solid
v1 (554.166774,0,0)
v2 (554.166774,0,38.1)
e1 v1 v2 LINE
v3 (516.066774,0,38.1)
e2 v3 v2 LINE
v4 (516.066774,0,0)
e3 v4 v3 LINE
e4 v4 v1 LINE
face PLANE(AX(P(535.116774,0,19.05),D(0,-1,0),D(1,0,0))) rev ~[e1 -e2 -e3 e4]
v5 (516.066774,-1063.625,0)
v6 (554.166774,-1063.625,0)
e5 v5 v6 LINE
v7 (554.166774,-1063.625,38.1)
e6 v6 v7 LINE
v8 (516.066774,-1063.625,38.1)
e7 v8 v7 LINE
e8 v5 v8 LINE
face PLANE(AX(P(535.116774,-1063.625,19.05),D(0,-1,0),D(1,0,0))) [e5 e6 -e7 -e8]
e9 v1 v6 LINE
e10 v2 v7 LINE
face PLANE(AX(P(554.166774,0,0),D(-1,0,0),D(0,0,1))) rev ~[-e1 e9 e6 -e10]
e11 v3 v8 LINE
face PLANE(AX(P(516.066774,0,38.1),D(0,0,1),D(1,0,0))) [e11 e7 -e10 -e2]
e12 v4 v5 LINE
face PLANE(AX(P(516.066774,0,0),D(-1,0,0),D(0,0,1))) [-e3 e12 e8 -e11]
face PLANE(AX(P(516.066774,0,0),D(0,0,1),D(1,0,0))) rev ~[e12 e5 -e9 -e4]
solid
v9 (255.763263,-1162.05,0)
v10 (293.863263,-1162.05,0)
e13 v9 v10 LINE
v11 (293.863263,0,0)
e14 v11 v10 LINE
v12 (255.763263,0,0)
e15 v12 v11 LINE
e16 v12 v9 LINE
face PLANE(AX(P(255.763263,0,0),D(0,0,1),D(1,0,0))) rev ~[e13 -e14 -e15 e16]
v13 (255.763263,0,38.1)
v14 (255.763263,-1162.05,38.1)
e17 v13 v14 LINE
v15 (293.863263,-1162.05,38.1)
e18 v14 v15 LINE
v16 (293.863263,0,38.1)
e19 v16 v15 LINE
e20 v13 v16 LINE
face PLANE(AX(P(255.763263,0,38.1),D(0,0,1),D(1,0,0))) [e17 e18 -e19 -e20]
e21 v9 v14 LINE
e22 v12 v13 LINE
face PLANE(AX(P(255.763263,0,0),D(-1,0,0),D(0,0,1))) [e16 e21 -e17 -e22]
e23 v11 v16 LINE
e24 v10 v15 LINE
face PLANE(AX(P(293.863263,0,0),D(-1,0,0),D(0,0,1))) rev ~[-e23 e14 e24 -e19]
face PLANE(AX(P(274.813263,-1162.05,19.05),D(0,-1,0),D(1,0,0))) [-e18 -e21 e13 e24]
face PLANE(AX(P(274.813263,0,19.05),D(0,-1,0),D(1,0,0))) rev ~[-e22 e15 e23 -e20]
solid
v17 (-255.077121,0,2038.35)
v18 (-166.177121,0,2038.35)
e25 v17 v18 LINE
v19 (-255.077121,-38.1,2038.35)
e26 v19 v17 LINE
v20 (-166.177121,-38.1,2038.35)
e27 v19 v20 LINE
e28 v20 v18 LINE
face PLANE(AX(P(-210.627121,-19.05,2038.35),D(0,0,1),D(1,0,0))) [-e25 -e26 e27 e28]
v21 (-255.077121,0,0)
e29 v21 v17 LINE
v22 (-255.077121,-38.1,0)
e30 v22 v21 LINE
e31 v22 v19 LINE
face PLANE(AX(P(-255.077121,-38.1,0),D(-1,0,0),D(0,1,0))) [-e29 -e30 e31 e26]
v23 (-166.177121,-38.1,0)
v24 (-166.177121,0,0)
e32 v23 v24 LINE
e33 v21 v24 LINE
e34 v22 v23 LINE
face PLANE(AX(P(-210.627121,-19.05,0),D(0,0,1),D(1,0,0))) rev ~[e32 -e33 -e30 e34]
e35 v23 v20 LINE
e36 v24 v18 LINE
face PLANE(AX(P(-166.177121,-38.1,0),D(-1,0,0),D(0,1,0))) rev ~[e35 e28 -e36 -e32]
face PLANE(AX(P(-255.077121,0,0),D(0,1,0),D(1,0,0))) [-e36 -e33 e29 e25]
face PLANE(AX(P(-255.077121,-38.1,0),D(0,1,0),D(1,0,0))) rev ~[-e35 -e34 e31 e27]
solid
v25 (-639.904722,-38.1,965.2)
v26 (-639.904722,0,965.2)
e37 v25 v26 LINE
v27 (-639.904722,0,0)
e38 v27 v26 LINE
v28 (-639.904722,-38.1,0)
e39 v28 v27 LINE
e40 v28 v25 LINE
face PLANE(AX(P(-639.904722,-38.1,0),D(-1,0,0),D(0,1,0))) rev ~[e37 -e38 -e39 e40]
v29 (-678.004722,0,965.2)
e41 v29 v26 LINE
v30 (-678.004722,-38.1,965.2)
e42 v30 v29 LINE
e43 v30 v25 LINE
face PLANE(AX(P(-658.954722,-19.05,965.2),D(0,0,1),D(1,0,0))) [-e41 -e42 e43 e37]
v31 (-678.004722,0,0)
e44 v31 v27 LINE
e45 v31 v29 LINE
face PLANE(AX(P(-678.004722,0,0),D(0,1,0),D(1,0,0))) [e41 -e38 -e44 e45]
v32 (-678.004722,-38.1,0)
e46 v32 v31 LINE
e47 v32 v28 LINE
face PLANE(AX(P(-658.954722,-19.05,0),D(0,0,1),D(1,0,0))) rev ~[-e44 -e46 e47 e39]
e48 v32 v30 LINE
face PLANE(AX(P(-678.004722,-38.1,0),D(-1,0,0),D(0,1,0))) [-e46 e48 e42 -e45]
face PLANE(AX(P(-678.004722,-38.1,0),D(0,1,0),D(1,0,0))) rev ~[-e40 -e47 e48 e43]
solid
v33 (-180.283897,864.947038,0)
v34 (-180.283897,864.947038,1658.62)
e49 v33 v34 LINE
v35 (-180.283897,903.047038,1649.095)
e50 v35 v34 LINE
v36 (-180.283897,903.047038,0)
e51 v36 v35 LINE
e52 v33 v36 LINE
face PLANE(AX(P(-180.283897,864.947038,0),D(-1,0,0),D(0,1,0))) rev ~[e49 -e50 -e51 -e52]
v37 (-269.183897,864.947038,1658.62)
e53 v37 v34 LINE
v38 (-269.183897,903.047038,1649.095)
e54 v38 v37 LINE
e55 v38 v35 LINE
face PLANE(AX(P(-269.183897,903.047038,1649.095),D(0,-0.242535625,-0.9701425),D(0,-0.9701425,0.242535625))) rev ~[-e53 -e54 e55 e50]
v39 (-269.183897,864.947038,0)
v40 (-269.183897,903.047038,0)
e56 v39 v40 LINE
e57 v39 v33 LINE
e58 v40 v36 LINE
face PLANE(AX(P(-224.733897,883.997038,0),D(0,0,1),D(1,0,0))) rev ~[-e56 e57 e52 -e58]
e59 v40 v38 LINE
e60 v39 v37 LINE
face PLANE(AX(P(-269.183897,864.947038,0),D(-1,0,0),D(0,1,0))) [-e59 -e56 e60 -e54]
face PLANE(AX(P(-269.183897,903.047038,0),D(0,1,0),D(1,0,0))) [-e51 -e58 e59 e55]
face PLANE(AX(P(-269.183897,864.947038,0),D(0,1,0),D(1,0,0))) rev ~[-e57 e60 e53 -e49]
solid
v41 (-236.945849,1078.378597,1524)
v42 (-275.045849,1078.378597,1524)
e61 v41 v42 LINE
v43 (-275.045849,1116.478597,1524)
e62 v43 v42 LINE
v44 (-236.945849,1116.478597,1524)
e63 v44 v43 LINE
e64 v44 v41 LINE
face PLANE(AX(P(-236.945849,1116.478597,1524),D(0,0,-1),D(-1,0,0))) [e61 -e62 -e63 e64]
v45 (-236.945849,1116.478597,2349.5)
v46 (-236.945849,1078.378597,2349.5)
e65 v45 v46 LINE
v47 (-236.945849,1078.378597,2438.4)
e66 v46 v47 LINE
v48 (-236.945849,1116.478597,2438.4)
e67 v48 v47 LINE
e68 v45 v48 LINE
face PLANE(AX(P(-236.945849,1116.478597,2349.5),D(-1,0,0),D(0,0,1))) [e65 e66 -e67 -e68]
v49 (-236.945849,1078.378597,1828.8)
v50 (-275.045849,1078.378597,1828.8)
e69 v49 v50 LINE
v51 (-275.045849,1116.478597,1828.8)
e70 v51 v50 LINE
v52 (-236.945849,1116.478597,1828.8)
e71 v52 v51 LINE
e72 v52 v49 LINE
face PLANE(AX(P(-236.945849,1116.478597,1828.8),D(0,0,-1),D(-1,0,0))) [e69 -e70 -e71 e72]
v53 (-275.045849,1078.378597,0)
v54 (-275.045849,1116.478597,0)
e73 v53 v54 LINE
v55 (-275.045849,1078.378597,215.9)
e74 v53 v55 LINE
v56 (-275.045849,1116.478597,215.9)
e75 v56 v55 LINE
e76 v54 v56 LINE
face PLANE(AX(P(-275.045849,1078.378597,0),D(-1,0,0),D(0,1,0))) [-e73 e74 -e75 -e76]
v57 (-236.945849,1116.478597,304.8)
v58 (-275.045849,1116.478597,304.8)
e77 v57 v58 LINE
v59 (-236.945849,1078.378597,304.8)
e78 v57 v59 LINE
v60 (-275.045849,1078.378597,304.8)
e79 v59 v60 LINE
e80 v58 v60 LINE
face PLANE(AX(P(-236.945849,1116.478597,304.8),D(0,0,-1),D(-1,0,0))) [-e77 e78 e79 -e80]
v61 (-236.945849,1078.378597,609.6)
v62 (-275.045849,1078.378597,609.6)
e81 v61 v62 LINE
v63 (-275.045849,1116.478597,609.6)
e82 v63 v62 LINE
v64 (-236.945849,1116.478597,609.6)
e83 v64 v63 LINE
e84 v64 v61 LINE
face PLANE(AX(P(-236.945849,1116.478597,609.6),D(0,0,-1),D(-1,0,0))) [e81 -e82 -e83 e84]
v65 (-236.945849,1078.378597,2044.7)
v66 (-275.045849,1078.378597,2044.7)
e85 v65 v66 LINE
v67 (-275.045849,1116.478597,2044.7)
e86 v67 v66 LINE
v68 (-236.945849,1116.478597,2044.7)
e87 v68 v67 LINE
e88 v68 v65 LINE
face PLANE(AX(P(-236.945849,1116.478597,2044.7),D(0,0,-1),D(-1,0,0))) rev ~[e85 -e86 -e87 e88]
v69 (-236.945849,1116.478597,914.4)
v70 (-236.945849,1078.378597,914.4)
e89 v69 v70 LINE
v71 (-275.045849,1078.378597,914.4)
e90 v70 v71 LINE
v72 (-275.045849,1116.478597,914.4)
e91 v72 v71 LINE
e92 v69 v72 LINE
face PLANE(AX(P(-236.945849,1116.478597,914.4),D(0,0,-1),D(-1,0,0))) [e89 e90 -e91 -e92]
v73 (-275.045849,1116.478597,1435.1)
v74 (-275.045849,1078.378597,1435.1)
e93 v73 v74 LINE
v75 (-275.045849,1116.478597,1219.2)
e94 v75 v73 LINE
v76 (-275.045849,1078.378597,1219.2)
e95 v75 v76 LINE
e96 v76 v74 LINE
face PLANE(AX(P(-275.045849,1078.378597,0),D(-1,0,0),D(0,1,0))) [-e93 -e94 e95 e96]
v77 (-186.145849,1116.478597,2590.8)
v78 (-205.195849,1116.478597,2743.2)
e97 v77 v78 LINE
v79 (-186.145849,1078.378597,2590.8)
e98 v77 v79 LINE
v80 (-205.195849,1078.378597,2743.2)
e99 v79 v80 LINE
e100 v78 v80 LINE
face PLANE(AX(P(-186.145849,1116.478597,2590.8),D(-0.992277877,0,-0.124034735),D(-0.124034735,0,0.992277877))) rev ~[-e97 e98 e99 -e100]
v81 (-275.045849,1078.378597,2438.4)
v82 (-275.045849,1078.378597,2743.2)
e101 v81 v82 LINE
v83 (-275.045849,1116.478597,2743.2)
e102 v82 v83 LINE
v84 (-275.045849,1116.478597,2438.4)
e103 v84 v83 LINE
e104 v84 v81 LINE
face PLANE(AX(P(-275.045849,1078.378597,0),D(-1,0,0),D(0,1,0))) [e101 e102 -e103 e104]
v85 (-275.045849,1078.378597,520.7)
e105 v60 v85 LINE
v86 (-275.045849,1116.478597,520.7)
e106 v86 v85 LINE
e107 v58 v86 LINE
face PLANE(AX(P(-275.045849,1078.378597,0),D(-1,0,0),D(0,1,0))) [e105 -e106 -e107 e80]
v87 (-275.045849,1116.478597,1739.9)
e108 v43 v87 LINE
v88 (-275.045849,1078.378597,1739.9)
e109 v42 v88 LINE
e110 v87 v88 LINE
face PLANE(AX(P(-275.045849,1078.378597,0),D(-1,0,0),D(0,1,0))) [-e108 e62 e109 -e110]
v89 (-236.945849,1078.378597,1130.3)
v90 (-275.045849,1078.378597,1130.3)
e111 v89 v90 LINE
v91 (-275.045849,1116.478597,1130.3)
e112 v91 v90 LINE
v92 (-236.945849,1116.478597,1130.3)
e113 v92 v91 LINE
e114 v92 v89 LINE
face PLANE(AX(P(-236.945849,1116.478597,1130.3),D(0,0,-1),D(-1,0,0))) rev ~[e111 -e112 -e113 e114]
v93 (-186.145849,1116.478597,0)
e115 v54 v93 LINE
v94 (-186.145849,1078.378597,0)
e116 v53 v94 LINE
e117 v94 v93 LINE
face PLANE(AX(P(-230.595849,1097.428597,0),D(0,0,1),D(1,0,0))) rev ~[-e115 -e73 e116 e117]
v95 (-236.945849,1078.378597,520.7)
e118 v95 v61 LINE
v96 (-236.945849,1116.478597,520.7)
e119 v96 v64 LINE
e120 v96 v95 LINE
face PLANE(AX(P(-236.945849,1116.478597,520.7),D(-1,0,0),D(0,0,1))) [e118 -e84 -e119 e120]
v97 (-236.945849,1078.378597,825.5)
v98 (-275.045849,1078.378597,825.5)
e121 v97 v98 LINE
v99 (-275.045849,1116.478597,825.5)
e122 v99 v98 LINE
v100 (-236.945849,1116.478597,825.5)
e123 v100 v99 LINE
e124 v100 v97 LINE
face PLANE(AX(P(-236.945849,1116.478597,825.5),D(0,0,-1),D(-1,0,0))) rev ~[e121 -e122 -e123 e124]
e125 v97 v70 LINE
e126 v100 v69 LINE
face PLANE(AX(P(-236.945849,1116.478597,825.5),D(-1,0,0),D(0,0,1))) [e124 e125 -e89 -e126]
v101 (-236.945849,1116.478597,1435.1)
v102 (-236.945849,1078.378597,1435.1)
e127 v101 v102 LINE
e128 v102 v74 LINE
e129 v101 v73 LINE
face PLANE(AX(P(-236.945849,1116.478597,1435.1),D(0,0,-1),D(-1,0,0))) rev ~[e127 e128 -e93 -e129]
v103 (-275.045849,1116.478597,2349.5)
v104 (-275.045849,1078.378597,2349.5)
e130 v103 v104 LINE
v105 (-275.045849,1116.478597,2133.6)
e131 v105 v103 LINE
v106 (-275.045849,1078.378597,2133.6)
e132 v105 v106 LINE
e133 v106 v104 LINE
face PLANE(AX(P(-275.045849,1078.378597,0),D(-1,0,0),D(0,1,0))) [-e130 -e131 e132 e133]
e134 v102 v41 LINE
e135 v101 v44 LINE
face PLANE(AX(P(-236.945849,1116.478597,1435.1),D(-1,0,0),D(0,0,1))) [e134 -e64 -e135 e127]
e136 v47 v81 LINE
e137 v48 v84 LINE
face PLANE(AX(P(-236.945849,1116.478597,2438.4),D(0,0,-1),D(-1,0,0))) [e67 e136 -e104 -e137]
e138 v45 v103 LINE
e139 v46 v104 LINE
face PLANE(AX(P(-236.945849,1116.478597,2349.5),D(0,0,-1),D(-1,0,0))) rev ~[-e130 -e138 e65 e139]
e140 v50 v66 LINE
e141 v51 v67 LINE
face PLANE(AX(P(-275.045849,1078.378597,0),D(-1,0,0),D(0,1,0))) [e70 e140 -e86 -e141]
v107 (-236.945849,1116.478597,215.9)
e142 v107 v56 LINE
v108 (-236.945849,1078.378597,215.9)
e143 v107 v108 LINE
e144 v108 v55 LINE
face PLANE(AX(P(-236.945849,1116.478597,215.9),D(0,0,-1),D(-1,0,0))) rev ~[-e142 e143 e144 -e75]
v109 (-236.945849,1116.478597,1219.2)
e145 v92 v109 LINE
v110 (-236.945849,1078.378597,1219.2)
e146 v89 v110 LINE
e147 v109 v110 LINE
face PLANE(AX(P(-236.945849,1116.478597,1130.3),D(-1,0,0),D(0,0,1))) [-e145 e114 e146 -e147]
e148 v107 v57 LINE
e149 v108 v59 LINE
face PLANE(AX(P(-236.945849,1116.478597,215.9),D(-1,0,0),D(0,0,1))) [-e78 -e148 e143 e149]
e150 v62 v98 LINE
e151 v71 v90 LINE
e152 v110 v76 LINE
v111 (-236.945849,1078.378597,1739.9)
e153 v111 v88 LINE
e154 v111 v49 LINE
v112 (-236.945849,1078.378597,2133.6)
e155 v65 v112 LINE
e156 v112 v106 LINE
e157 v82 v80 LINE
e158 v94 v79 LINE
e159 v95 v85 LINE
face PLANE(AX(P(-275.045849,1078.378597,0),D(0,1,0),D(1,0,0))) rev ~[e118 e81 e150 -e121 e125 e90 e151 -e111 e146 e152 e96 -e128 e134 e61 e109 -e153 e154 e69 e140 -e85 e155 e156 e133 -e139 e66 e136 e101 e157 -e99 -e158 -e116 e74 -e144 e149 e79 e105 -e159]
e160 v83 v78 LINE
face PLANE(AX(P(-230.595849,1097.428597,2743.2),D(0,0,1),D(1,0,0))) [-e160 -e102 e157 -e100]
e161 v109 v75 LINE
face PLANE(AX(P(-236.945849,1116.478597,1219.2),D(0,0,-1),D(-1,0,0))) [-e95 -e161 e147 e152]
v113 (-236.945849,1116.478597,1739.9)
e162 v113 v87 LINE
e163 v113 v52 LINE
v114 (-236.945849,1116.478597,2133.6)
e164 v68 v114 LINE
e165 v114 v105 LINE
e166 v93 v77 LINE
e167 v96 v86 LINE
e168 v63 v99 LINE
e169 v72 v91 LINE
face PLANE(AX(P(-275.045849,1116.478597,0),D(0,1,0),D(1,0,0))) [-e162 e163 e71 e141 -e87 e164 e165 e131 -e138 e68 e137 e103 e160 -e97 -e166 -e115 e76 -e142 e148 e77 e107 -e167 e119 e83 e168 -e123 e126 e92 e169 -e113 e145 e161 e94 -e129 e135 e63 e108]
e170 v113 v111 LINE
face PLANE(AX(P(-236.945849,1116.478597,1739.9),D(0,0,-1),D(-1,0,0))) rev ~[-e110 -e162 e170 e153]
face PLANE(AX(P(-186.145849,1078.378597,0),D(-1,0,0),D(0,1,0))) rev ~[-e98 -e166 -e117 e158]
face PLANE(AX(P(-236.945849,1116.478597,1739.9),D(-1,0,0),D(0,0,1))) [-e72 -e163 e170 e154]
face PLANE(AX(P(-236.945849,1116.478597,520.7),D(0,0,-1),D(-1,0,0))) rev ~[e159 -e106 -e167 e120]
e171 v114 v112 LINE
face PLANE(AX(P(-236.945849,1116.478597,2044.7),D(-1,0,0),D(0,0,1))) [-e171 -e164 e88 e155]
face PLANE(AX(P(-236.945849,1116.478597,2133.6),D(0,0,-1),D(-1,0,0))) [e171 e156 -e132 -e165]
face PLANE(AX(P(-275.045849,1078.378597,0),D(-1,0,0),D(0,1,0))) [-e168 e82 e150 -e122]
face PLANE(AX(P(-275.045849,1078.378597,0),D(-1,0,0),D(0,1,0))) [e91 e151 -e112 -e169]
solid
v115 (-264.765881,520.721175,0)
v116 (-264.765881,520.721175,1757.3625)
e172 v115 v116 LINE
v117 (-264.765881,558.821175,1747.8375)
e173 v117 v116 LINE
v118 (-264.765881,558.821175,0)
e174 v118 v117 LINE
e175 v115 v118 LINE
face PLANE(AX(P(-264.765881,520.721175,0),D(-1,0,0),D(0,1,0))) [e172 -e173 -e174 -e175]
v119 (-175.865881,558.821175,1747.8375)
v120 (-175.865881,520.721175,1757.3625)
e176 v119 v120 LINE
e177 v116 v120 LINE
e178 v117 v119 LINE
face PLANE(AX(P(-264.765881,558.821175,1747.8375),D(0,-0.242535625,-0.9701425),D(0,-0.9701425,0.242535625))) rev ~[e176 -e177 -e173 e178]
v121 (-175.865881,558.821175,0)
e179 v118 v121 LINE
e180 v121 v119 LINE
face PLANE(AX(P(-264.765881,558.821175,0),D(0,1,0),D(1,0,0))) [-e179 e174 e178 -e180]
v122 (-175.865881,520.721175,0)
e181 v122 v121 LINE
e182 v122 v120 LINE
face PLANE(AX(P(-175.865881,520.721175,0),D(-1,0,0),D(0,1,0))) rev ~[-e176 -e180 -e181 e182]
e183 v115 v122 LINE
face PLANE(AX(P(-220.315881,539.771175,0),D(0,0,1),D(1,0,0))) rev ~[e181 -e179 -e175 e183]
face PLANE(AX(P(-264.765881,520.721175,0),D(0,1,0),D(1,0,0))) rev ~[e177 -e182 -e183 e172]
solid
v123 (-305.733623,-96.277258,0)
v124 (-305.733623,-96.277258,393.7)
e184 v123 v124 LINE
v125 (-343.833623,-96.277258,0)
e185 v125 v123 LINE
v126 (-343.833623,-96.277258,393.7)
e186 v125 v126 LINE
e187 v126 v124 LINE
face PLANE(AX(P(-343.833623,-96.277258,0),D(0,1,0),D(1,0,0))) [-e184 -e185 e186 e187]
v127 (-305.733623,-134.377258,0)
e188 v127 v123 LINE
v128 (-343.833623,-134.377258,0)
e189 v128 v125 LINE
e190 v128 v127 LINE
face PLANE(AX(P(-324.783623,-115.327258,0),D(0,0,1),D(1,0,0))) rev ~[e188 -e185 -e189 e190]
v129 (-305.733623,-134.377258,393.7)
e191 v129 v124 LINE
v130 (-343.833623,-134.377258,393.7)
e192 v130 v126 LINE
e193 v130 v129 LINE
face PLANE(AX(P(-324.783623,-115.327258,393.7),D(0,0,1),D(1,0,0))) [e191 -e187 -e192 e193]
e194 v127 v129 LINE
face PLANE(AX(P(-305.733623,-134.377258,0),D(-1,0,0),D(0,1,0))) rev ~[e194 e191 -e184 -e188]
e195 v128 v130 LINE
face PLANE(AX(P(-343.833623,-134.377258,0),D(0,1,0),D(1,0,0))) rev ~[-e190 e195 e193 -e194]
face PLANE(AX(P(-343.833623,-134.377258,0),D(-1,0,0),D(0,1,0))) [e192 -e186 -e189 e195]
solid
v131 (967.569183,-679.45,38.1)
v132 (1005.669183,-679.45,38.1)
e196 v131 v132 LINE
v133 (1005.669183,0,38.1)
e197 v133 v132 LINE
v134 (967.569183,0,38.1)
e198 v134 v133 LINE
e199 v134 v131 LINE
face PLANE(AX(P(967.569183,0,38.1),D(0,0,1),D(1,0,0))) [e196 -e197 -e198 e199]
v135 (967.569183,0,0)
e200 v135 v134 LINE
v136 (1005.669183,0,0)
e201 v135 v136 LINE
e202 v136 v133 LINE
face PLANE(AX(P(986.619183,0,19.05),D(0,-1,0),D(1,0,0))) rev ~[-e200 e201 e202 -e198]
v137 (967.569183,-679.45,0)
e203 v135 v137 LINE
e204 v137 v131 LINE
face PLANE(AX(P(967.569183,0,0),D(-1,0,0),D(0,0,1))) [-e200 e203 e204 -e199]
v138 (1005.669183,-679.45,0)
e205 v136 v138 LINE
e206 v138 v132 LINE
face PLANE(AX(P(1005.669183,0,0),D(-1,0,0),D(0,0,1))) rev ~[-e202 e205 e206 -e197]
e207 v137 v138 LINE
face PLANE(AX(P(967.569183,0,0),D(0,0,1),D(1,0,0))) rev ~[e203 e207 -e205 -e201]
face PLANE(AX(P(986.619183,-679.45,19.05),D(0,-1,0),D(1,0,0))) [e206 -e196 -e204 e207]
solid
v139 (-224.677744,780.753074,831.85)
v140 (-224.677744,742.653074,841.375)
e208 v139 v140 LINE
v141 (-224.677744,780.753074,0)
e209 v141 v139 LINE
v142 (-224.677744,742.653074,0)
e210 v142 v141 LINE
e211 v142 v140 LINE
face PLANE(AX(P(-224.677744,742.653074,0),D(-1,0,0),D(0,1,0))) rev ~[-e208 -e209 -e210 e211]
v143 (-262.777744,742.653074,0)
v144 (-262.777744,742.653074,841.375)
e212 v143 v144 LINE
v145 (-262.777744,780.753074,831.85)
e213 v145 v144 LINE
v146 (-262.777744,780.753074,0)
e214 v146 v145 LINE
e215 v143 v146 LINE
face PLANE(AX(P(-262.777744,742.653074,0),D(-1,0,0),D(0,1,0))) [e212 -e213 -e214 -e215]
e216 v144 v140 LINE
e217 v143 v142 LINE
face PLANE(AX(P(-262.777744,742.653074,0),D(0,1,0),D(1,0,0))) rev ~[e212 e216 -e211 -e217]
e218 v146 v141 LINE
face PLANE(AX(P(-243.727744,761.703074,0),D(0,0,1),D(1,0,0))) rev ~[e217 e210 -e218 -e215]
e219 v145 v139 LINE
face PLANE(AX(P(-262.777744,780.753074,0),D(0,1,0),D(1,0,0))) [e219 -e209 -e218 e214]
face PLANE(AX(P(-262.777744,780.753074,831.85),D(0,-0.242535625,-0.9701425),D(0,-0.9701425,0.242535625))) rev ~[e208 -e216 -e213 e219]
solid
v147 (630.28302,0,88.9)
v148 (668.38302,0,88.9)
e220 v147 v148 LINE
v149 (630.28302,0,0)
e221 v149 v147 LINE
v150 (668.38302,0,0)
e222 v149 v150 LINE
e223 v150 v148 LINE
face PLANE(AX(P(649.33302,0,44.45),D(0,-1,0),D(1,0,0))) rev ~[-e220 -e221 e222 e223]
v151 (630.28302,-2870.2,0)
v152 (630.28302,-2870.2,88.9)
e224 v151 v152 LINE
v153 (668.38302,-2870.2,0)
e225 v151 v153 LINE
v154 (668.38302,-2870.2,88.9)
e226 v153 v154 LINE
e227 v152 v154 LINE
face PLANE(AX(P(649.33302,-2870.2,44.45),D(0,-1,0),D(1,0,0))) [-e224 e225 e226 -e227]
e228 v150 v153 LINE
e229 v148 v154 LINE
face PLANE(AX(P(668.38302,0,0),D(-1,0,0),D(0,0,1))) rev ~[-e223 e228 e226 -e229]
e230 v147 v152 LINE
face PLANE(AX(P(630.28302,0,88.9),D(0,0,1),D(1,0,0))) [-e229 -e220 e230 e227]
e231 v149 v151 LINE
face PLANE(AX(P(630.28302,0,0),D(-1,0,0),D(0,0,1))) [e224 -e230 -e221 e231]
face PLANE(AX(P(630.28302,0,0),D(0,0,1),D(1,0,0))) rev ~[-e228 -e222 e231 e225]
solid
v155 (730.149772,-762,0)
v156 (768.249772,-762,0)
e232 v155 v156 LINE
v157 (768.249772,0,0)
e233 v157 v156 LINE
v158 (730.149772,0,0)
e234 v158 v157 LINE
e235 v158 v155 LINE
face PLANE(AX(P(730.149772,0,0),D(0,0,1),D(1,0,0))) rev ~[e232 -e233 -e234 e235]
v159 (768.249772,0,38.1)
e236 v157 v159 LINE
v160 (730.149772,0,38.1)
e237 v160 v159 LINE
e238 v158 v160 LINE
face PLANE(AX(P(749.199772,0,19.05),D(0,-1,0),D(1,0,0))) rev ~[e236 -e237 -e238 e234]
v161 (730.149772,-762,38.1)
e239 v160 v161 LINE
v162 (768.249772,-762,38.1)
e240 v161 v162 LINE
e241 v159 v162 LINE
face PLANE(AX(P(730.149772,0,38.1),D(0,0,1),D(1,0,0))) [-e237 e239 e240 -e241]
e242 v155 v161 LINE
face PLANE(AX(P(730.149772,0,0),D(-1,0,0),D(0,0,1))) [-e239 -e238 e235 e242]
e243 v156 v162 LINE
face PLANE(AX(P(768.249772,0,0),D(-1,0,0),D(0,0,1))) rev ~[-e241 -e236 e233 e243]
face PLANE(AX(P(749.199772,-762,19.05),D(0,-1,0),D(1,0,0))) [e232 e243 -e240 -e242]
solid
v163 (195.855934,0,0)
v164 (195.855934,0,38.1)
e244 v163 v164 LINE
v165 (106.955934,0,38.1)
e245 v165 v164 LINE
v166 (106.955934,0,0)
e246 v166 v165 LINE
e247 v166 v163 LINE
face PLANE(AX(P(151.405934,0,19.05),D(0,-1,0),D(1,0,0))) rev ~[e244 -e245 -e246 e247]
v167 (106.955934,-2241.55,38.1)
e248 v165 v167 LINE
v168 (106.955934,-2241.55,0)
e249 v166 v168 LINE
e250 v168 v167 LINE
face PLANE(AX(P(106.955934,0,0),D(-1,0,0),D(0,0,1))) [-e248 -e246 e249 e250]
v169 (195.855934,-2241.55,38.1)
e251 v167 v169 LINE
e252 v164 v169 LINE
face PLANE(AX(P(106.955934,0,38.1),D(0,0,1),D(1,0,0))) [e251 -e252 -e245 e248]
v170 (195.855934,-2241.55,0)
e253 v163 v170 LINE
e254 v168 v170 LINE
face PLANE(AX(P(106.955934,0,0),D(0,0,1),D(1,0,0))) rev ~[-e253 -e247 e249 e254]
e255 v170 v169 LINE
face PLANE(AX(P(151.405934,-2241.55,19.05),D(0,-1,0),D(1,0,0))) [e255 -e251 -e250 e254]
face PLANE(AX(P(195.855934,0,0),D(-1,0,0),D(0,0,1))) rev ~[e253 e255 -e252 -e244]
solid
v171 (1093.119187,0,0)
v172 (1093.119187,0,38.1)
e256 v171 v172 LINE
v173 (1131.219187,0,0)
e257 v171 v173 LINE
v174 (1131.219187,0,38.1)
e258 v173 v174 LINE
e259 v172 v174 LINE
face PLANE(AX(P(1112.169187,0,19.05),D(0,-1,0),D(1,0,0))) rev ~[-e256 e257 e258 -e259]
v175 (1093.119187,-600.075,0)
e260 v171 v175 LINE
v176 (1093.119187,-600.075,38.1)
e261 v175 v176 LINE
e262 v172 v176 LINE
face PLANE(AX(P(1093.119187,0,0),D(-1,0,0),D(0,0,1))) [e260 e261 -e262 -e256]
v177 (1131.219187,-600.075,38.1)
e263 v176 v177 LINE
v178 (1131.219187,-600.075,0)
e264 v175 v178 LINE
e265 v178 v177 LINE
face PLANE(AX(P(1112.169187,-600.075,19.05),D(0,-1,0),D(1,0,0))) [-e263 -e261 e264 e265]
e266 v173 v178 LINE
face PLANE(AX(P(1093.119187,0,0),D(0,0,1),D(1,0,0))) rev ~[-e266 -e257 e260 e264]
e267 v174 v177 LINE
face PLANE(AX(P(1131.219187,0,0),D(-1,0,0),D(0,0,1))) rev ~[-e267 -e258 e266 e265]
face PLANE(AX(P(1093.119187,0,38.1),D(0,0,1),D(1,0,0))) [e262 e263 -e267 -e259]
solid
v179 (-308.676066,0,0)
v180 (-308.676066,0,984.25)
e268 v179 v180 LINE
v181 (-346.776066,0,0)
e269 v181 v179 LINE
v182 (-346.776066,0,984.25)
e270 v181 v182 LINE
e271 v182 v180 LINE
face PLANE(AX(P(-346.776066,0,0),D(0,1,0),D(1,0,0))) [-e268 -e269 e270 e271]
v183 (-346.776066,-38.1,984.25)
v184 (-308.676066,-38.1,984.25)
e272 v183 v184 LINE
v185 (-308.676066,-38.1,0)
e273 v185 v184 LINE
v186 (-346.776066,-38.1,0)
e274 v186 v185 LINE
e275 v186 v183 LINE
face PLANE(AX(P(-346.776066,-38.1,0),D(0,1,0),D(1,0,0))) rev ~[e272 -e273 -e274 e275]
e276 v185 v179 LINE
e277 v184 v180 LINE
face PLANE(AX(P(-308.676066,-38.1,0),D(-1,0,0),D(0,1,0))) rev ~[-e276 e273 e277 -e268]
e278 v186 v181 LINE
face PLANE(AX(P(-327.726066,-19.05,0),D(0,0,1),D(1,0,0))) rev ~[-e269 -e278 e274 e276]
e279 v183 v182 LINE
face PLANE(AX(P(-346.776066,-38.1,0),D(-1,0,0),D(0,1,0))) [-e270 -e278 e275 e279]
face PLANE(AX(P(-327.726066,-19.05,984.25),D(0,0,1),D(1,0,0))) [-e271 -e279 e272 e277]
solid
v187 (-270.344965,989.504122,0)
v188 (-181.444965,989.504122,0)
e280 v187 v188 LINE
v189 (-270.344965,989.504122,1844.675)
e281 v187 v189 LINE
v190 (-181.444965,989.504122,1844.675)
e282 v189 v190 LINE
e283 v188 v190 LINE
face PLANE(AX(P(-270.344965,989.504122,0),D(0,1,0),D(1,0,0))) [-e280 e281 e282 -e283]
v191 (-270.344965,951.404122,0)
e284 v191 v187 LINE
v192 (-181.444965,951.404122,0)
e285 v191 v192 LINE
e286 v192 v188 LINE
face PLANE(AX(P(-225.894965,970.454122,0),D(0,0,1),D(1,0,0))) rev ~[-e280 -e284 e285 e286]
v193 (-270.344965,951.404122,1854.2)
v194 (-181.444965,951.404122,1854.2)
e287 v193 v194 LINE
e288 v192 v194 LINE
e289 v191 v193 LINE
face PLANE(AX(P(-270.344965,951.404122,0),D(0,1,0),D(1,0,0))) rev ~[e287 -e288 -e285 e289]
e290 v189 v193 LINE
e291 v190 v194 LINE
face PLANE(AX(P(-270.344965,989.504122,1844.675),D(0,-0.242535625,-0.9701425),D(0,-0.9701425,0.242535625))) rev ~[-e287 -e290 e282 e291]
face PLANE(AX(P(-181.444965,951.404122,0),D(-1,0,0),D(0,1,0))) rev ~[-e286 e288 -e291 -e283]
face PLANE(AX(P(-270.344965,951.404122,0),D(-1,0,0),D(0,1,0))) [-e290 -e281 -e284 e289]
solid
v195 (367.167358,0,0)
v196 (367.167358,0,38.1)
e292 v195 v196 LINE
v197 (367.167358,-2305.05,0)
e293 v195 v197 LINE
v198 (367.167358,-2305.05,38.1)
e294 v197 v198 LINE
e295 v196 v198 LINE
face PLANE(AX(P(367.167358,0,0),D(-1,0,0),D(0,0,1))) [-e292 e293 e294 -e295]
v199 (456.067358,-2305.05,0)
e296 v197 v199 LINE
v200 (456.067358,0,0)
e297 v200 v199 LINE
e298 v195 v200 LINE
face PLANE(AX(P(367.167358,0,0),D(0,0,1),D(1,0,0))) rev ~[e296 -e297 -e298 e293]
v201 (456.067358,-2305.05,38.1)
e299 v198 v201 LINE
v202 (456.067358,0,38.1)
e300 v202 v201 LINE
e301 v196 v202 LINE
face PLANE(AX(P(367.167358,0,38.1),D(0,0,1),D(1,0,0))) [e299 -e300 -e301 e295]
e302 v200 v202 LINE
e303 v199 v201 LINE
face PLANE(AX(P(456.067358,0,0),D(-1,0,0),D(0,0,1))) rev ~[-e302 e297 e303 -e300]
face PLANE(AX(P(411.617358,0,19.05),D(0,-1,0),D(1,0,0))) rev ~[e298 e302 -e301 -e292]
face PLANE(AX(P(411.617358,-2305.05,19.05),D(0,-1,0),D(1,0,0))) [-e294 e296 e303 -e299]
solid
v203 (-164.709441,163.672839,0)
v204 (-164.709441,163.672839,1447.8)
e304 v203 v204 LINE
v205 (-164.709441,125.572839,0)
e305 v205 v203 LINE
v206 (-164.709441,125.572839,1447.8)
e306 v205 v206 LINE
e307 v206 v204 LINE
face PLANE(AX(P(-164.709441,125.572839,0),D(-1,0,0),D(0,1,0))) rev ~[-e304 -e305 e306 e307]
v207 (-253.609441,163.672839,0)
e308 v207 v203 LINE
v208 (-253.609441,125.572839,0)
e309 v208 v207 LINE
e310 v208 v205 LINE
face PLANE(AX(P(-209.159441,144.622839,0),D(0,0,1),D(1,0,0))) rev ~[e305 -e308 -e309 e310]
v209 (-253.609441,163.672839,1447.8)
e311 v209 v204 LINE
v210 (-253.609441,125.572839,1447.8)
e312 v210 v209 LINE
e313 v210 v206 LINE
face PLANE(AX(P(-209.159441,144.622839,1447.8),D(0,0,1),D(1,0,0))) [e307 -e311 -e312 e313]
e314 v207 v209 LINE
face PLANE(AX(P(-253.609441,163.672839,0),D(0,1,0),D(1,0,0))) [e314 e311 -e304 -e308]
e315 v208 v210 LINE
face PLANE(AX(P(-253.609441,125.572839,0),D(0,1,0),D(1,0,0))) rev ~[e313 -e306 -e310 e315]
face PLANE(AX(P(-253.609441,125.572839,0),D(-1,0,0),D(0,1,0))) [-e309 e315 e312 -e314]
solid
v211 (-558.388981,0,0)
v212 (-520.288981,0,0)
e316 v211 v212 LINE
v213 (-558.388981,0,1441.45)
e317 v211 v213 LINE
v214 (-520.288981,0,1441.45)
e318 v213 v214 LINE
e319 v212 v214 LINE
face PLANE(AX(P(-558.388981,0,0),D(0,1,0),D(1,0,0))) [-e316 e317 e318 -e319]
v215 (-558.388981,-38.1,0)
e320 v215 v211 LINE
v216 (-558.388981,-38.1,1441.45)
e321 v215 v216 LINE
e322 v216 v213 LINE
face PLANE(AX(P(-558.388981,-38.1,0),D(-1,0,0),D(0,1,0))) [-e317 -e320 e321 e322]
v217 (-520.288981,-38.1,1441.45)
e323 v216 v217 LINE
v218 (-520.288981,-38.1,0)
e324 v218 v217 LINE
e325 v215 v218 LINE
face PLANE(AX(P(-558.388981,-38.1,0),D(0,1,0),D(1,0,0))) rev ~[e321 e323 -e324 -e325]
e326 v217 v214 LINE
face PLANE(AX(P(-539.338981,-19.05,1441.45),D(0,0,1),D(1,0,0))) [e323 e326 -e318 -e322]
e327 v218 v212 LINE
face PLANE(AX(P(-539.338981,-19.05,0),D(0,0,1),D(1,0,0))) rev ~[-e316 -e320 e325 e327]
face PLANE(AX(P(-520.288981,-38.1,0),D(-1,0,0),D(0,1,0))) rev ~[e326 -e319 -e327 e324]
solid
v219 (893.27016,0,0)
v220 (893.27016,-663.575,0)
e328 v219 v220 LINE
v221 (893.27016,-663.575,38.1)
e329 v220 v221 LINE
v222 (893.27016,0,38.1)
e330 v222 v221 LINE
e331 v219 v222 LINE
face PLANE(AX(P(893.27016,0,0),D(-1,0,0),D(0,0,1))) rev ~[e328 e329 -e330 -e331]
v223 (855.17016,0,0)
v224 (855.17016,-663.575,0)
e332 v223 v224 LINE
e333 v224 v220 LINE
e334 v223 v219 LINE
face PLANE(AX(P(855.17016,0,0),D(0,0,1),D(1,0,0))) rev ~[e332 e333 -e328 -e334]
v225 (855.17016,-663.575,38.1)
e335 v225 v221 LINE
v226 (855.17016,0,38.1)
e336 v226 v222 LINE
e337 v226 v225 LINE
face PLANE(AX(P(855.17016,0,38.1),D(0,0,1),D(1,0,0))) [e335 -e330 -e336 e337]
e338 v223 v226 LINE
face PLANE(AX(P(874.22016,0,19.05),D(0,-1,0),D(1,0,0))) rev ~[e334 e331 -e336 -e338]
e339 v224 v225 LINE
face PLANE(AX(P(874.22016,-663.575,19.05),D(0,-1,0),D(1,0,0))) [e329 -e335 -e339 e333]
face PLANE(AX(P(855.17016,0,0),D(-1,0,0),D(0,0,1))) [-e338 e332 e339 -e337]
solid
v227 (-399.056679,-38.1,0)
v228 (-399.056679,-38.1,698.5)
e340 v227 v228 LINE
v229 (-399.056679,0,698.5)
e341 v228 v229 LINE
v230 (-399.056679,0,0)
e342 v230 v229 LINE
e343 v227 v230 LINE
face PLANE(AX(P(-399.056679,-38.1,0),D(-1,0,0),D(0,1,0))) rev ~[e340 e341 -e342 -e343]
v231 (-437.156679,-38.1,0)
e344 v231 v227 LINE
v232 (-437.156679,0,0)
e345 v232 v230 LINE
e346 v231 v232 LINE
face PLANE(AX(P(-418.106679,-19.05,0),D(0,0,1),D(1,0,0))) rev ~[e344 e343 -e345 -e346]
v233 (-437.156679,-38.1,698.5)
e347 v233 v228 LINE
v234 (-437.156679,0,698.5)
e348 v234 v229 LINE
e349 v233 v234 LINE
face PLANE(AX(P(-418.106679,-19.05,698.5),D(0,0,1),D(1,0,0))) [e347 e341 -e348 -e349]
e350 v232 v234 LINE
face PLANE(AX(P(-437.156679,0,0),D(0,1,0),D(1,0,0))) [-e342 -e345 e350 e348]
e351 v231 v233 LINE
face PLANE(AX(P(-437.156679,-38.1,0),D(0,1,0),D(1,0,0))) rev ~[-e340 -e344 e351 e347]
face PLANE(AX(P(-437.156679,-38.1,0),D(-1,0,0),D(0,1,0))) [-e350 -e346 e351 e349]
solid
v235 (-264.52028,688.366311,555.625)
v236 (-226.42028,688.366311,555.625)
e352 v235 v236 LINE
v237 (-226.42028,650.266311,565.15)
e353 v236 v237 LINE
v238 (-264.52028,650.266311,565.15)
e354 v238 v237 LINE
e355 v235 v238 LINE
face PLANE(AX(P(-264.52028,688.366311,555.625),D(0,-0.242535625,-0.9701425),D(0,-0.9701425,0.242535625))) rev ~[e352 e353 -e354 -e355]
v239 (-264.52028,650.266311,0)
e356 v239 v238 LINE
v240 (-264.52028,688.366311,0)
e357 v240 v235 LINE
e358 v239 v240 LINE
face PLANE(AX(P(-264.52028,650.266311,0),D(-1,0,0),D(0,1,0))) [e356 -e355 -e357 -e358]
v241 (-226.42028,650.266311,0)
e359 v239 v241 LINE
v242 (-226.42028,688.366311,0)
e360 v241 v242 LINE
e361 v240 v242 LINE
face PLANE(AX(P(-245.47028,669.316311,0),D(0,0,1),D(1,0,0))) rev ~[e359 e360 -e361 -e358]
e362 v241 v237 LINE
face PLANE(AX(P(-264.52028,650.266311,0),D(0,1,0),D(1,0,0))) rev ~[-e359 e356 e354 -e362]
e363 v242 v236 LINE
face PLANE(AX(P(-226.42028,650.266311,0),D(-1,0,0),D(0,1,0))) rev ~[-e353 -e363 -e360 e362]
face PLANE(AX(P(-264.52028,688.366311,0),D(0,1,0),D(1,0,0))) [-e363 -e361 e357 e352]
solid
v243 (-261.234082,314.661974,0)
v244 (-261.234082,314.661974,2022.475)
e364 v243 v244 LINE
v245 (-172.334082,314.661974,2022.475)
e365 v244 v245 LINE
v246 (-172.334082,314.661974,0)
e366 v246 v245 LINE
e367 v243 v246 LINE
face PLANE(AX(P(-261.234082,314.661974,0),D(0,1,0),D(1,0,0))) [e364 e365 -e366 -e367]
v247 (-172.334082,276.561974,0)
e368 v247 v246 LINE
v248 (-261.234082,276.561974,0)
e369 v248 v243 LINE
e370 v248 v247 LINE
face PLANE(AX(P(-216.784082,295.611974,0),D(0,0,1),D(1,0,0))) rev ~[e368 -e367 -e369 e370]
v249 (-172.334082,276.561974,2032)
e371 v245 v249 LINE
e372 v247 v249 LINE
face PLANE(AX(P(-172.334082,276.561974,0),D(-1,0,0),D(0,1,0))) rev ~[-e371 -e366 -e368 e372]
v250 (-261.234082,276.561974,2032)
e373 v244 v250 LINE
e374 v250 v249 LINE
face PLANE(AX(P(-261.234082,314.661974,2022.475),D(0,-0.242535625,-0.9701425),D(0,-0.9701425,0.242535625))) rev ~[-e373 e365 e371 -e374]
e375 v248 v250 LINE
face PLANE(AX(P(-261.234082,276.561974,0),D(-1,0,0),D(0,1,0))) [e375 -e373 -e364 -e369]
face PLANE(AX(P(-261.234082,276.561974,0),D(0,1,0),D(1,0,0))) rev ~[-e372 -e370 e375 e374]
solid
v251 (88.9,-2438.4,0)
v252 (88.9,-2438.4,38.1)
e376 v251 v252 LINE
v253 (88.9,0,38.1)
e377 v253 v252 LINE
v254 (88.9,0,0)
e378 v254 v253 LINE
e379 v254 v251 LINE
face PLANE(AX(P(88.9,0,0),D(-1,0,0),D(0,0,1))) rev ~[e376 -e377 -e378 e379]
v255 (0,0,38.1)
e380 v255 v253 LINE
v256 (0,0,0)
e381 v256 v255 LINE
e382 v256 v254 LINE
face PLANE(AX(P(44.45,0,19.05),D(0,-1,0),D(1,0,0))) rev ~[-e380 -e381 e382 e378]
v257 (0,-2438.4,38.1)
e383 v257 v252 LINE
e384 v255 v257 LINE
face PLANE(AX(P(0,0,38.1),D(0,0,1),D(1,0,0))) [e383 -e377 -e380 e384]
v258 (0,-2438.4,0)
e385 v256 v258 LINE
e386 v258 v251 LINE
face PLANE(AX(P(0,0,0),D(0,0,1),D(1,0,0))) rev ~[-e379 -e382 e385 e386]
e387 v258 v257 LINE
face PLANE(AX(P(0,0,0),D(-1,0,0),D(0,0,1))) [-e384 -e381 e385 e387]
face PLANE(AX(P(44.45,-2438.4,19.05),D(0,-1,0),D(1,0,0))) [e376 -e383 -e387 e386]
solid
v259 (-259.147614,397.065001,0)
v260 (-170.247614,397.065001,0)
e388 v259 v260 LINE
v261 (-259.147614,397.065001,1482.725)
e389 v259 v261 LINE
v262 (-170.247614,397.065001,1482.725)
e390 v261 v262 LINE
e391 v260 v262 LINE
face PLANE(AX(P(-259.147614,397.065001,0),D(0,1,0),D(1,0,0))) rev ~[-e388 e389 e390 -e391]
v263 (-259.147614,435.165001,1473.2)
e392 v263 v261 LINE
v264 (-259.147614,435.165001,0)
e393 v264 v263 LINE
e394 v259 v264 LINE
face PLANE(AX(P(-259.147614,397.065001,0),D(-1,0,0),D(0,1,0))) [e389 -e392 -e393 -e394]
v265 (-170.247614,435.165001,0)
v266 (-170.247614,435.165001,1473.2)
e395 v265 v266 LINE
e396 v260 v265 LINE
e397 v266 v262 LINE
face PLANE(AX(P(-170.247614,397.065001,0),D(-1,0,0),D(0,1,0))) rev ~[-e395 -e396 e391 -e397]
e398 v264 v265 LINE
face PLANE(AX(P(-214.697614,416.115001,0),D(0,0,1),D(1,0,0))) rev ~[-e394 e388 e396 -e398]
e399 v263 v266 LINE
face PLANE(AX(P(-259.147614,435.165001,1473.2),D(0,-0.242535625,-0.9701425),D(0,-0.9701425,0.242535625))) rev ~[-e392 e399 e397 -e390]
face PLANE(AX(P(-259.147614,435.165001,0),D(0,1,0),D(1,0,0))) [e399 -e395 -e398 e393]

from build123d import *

# Parameters (mm, degrees)
F0_W      = 88.9
F0_H      = 38.1
F1_DEPTH  = 2438.4
F2_W      = 88.9
F2_H      = 38.1
F3_DEPTH  = 2241.55
F4_W      = 88.9
F4_H      = 38.1
F5_DEPTH  = 2038.35
F6_W      = 38.1
F6_H      = 38.1
F7_DEPTH  = 1162.05
F8_W      = 38.1
F8_H      = 38.1
F9_DEPTH  = 984.25
F10_W     = 38.1
F10_H     = 38.1
F11_DEPTH = 698.5
F12_W     = 88.9
F12_H     = 38.1
F13_DEPTH = 1447.8
F14_W     = 38.1
F14_H     = 38.1
F15_DEPTH = 393.7
F16_W     = 88.9
F16_H     = 38.1
F17_DEPTH = 2032
F19_DEPTH = 101.6
F20_W     = 88.9
F20_H     = 38.1
F21_DEPTH = 1482.725
F23_DEPTH = 101.6
F24_W     = 88.9
F24_H     = 38.1
F25_DEPTH = 2305.05
F26_W     = 88.9
F26_H     = 38.1
F27_DEPTH = 1757.3625
F29_DEPTH = 88.9
F30_W     = 38.1
F30_H     = 38.1
F31_DEPTH = 1063.625
F32_W     = 38.1
F32_H     = 38.1
F33_DEPTH = 565.15
F35_DEPTH = 101.6
F36_W     = 38.1
F36_H     = 38.1
F37_DEPTH = 841.375
F39_DEPTH = 38.1
F40_W     = 38.1
F40_H     = 88.9
F41_DEPTH = 2870.2
F42_W     = 88.9
F42_H     = 38.1
F43_DEPTH = 1658.62
F45_DEPTH = 88.9
F46_W     = 88.9
F46_H     = 38.1
F47_DEPTH = 1854.2
F49_DEPTH = 88.9
F50_W     = 38.1
F50_H     = 38.1
F51_DEPTH = 762
F52_W     = 38.1
F52_H     = 38.1
F53_DEPTH = 663.575
F54_W     = 38.1
F54_H     = 38.1
F55_DEPTH = 1441.45
F56_W     = 38.1
F56_H     = 38.1
F57_DEPTH = 679.45
F58_W     = 38.1
F58_H     = 38.1
F59_DEPTH = 600.075
F60_W     = 38.1
F60_H     = 38.1
F61_DEPTH = 965.2
F62_W     = 88.9
F62_H     = 38.1
F63_DEPTH = 2743.2
F64_W     = 38.1
F64_H     = 88.9
F65_DEPTH = 38.1


with BuildPart() as f1:
    # F0 (on Front) → F1 (new body)
    with BuildSketch(Plane.XZ):
        with Locations((44.45, 19.05)):
            Rectangle(F0_W, F0_H)
    extrude(amount=F1_DEPTH)


with BuildPart() as f3:
    # F2 (on Front) → F3 (new body)
    with BuildSketch(Plane.XZ):
        with Locations((151.405934, 19.05)):
            Rectangle(F2_W, F2_H)
    extrude(amount=F3_DEPTH)


with BuildPart() as f5:
    # F4 (on Top) → F5 (new body)
    with BuildSketch(Plane.XY):
        with Locations((-210.627121, -19.05)):
            Rectangle(F4_W, F4_H)
    extrude(amount=F5_DEPTH)


with BuildPart() as f7:
    # F6 (on Front) → F7 (new body)
    with BuildSketch(Plane.XZ):
        with Locations((274.813263, 19.05)):
            Rectangle(F6_W, F6_H)
    extrude(amount=F7_DEPTH)


with BuildPart() as f9:
    # F8 (on Top) → F9 (new body)
    with BuildSketch(Plane.XY):
        with Locations((-327.726066, -19.05)):
            Rectangle(F8_W, F8_H)
    extrude(amount=F9_DEPTH)


with BuildPart() as f11:
    # F10 (on Top) → F11 (new body)
    with BuildSketch(Plane.XY):
        with Locations((-418.106679, -19.05)):
            Rectangle(F10_W, F10_H)
    extrude(amount=F11_DEPTH)


with BuildPart() as f13:
    # F12 (on Top) → F13 (new body)
    with BuildSketch(Plane.XY):
        with Locations((-209.159441, 144.622839)):
            Rectangle(F12_W, F12_H)
    extrude(amount=F13_DEPTH)


with BuildPart() as f15:
    # F14 (on Top) → F15 (new body)
    with BuildSketch(Plane.XY):
        with Locations((-324.783623, -115.327258)):
            Rectangle(F14_W, F14_H)
    extrude(amount=F15_DEPTH)


with BuildPart() as f17:
    # F16 (on Top) → F17 (new body)
    with BuildSketch(Plane.XY):
        with Locations((-216.784082, 295.611974)):
            Rectangle(F16_W, F16_H)
    extrude(amount=F17_DEPTH)

    # F18 (on face) → F19 (cut)
    with BuildSketch(Plane(origin=(-261.234082, 0, 0), x_dir=(0, -1, 0), z_dir=(-1, 0, 0))):
        Polygon((-314.661974, 2022.475), (-276.561974, 2032), (-314.661974, 2032), align=None)
    extrude(amount=-F19_DEPTH, mode=Mode.SUBTRACT)


with BuildPart() as f21:
    # F20 (on Top) → F21 (new body)
    with BuildSketch(Plane.XY):
        with Locations((-214.697614, 416.115001)):
            Rectangle(F20_W, F20_H)
    extrude(amount=F21_DEPTH)

    # F22 (on face) → F23 (cut)
    with BuildSketch(Plane(origin=(-259.147614, 0, 0), x_dir=(0, -1, 0), z_dir=(-1, 0, 0))):
        Polygon((-435.165001, 1473.2), (-397.065001, 1482.725), (-435.165001, 1482.725), align=None)
    extrude(amount=-F23_DEPTH, mode=Mode.SUBTRACT)


with BuildPart() as f25:
    # F24 (on Front) → F25 (new body)
    with BuildSketch(Plane.XZ):
        with Locations((411.617358, 19.05)):
            Rectangle(F24_W, F24_H)
    extrude(amount=F25_DEPTH)


with BuildPart() as f27:
    # F26 (on Top) → F27 (new body)
    with BuildSketch(Plane.XY):
        with Locations((-220.315881, 539.771175)):
            Rectangle(F26_W, F26_H)
    extrude(amount=F27_DEPTH)

    # F28 (on face) → F29 (cut)
    with BuildSketch(Plane(origin=(-264.765881, 0, 0), x_dir=(0, -1, 0), z_dir=(-1, 0, 0))):
        Polygon((-558.821175, 1747.8375), (-520.721175, 1757.3625), (-558.821175, 1757.3625), align=None)
    extrude(amount=-F29_DEPTH, mode=Mode.SUBTRACT)


with BuildPart() as f31:
    # F30 (on Front) → F31 (new body)
    with BuildSketch(Plane.XZ):
        with Locations((535.116774, 19.05)):
            Rectangle(F30_W, F30_H)
    extrude(amount=F31_DEPTH)


with BuildPart() as f33:
    # F32 (on Top) → F33 (new body)
    with BuildSketch(Plane.XY):
        with Locations((-245.47028, 669.316311)):
            Rectangle(F32_W, F32_H)
    extrude(amount=F33_DEPTH)

    # F34 (on face) → F35 (cut)
    with BuildSketch(Plane(origin=(-264.52028, 0, 0), x_dir=(0, -1, 0), z_dir=(-1, 0, 0))):
        Polygon((-688.366311, 555.625), (-650.266311, 565.15), (-688.366311, 565.15), align=None)
    extrude(amount=-F35_DEPTH, mode=Mode.SUBTRACT)


with BuildPart() as f37:
    # F36 (on Top) → F37 (new body)
    with BuildSketch(Plane.XY):
        with Locations((-243.727744, 761.703074)):
            Rectangle(F36_W, F36_H)
    extrude(amount=F37_DEPTH)

    # F38 (on face) → F39 (cut)
    with BuildSketch(Plane(origin=(-262.777744, 0, 0), x_dir=(0, -1, 0), z_dir=(-1, 0, 0))):
        Polygon((-780.753074, 831.85), (-742.653074, 841.375), (-780.753074, 841.375), align=None)
    extrude(amount=-F39_DEPTH, mode=Mode.SUBTRACT)


with BuildPart() as f41:
    # F40 (on Front) → F41 (new body)
    with BuildSketch(Plane.XZ):
        with Locations((649.33302, 44.45)):
            Rectangle(F40_W, F40_H)
    extrude(amount=F41_DEPTH)


with BuildPart() as f43:
    # F42 (on Top) → F43 (new body)
    with BuildSketch(Plane.XY):
        with Locations((-224.733897, 883.997038)):
            Rectangle(F42_W, F42_H)
    extrude(amount=F43_DEPTH)

    # F44 (on face) → F45 (cut)
    with BuildSketch(Plane(origin=(-269.183897, 0, 0), x_dir=(0, -1, 0), z_dir=(-1, 0, 0))):
        Polygon((-903.047038, 1649.095), (-864.947038, 1658.62), (-903.047038, 1658.62), align=None)
    extrude(amount=-F45_DEPTH, mode=Mode.SUBTRACT)


with BuildPart() as f47:
    # F46 (on Top) → F47 (new body)
    with BuildSketch(Plane.XY):
        with Locations((-225.894965, 970.454122)):
            Rectangle(F46_W, F46_H)
    extrude(amount=F47_DEPTH)

    # F48 (on face) → F49 (cut)
    with BuildSketch(Plane(origin=(-270.344965, 0, 0), x_dir=(0, -1, 0), z_dir=(-1, 0, 0))):
        Polygon((-989.504122, 1844.675), (-951.404122, 1854.2), (-989.504122, 1854.2), align=None)
    extrude(amount=-F49_DEPTH, mode=Mode.SUBTRACT)


with BuildPart() as f51:
    # F50 (on Front) → F51 (new body)
    with BuildSketch(Plane.XZ):
        with Locations((749.199772, 19.05)):
            Rectangle(F50_W, F50_H)
    extrude(amount=F51_DEPTH)


with BuildPart() as f53:
    # F52 (on Front) → F53 (new body)
    with BuildSketch(Plane.XZ):
        with Locations((874.22016, 19.05)):
            Rectangle(F52_W, F52_H)
    extrude(amount=F53_DEPTH)


with BuildPart() as f55:
    # F54 (on Top) → F55 (new body)
    with BuildSketch(Plane.XY):
        with Locations((-539.338981, -19.05)):
            Rectangle(F54_W, F54_H)
    extrude(amount=F55_DEPTH)


with BuildPart() as f57:
    # F56 (on Front) → F57 (new body)
    with BuildSketch(Plane.XZ):
        with Locations((986.619183, 19.05)):
            Rectangle(F56_W, F56_H)
    extrude(amount=F57_DEPTH)


with BuildPart() as f59:
    # F58 (on Front) → F59 (new body)
    with BuildSketch(Plane.XZ):
        with Locations((1112.169187, 19.05)):
            Rectangle(F58_W, F58_H)
    extrude(amount=F59_DEPTH)


with BuildPart() as f61:
    # F60 (on Top) → F61 (new body)
    with BuildSketch(Plane.XY):
        with Locations((-658.954722, -19.05)):
            Rectangle(F60_W, F60_H)
    extrude(amount=F61_DEPTH)


with BuildPart() as f63:
    # F62 (on Top) → F63 (new body)
    with BuildSketch(Plane.XY):
        with Locations((-230.595849, 1097.428597)):
            Rectangle(F62_W, F62_H)
    extrude(amount=F63_DEPTH)

    # F64 (on face) → F65 (cut)
    with BuildSketch(Plane(origin=(0, 1116.478597, 0), x_dir=(-1, 0, 0), z_dir=(0, 1, 0))):
        Polygon((186.145849, 2743.2), (186.145849, 2590.8), (205.195849, 2743.2), align=None)
        with Locations((255.995849, 260.35)):
            Rectangle(F64_W, F64_H)
        with Locations((255.995849, 565.15)):
            Rectangle(F64_W, F64_H)
        with Locations((255.995849, 869.95)):
            Rectangle(F64_W, F64_H)
        with Locations((255.995849, 1174.75)):
            Rectangle(F64_W, F64_H)
        with Locations((255.995849, 1479.55)):
            Rectangle(F64_W, F64_H)
        with Locations((255.995849, 1784.35)):
            Rectangle(F64_W, F64_H)
        with Locations((255.995849, 2089.15)):
            Rectangle(F64_W, F64_H)
        with Locations((255.995849, 2393.95)):
            Rectangle(F64_W, F64_H)
    extrude(amount=-F65_DEPTH, mode=Mode.SUBTRACT)


solid = Compound([f1.part, f3.part, f5.part, f7.part, f9.part, f11.part, f13.part, f15.part, f17.part, f21.part, f25.part, f27.part, f31.part, f33.part, f37.part, f41.part, f43.part, f47.part, f51.part, f53.part, f55.part, f57.part, f59.part, f61.part, f63.part])
